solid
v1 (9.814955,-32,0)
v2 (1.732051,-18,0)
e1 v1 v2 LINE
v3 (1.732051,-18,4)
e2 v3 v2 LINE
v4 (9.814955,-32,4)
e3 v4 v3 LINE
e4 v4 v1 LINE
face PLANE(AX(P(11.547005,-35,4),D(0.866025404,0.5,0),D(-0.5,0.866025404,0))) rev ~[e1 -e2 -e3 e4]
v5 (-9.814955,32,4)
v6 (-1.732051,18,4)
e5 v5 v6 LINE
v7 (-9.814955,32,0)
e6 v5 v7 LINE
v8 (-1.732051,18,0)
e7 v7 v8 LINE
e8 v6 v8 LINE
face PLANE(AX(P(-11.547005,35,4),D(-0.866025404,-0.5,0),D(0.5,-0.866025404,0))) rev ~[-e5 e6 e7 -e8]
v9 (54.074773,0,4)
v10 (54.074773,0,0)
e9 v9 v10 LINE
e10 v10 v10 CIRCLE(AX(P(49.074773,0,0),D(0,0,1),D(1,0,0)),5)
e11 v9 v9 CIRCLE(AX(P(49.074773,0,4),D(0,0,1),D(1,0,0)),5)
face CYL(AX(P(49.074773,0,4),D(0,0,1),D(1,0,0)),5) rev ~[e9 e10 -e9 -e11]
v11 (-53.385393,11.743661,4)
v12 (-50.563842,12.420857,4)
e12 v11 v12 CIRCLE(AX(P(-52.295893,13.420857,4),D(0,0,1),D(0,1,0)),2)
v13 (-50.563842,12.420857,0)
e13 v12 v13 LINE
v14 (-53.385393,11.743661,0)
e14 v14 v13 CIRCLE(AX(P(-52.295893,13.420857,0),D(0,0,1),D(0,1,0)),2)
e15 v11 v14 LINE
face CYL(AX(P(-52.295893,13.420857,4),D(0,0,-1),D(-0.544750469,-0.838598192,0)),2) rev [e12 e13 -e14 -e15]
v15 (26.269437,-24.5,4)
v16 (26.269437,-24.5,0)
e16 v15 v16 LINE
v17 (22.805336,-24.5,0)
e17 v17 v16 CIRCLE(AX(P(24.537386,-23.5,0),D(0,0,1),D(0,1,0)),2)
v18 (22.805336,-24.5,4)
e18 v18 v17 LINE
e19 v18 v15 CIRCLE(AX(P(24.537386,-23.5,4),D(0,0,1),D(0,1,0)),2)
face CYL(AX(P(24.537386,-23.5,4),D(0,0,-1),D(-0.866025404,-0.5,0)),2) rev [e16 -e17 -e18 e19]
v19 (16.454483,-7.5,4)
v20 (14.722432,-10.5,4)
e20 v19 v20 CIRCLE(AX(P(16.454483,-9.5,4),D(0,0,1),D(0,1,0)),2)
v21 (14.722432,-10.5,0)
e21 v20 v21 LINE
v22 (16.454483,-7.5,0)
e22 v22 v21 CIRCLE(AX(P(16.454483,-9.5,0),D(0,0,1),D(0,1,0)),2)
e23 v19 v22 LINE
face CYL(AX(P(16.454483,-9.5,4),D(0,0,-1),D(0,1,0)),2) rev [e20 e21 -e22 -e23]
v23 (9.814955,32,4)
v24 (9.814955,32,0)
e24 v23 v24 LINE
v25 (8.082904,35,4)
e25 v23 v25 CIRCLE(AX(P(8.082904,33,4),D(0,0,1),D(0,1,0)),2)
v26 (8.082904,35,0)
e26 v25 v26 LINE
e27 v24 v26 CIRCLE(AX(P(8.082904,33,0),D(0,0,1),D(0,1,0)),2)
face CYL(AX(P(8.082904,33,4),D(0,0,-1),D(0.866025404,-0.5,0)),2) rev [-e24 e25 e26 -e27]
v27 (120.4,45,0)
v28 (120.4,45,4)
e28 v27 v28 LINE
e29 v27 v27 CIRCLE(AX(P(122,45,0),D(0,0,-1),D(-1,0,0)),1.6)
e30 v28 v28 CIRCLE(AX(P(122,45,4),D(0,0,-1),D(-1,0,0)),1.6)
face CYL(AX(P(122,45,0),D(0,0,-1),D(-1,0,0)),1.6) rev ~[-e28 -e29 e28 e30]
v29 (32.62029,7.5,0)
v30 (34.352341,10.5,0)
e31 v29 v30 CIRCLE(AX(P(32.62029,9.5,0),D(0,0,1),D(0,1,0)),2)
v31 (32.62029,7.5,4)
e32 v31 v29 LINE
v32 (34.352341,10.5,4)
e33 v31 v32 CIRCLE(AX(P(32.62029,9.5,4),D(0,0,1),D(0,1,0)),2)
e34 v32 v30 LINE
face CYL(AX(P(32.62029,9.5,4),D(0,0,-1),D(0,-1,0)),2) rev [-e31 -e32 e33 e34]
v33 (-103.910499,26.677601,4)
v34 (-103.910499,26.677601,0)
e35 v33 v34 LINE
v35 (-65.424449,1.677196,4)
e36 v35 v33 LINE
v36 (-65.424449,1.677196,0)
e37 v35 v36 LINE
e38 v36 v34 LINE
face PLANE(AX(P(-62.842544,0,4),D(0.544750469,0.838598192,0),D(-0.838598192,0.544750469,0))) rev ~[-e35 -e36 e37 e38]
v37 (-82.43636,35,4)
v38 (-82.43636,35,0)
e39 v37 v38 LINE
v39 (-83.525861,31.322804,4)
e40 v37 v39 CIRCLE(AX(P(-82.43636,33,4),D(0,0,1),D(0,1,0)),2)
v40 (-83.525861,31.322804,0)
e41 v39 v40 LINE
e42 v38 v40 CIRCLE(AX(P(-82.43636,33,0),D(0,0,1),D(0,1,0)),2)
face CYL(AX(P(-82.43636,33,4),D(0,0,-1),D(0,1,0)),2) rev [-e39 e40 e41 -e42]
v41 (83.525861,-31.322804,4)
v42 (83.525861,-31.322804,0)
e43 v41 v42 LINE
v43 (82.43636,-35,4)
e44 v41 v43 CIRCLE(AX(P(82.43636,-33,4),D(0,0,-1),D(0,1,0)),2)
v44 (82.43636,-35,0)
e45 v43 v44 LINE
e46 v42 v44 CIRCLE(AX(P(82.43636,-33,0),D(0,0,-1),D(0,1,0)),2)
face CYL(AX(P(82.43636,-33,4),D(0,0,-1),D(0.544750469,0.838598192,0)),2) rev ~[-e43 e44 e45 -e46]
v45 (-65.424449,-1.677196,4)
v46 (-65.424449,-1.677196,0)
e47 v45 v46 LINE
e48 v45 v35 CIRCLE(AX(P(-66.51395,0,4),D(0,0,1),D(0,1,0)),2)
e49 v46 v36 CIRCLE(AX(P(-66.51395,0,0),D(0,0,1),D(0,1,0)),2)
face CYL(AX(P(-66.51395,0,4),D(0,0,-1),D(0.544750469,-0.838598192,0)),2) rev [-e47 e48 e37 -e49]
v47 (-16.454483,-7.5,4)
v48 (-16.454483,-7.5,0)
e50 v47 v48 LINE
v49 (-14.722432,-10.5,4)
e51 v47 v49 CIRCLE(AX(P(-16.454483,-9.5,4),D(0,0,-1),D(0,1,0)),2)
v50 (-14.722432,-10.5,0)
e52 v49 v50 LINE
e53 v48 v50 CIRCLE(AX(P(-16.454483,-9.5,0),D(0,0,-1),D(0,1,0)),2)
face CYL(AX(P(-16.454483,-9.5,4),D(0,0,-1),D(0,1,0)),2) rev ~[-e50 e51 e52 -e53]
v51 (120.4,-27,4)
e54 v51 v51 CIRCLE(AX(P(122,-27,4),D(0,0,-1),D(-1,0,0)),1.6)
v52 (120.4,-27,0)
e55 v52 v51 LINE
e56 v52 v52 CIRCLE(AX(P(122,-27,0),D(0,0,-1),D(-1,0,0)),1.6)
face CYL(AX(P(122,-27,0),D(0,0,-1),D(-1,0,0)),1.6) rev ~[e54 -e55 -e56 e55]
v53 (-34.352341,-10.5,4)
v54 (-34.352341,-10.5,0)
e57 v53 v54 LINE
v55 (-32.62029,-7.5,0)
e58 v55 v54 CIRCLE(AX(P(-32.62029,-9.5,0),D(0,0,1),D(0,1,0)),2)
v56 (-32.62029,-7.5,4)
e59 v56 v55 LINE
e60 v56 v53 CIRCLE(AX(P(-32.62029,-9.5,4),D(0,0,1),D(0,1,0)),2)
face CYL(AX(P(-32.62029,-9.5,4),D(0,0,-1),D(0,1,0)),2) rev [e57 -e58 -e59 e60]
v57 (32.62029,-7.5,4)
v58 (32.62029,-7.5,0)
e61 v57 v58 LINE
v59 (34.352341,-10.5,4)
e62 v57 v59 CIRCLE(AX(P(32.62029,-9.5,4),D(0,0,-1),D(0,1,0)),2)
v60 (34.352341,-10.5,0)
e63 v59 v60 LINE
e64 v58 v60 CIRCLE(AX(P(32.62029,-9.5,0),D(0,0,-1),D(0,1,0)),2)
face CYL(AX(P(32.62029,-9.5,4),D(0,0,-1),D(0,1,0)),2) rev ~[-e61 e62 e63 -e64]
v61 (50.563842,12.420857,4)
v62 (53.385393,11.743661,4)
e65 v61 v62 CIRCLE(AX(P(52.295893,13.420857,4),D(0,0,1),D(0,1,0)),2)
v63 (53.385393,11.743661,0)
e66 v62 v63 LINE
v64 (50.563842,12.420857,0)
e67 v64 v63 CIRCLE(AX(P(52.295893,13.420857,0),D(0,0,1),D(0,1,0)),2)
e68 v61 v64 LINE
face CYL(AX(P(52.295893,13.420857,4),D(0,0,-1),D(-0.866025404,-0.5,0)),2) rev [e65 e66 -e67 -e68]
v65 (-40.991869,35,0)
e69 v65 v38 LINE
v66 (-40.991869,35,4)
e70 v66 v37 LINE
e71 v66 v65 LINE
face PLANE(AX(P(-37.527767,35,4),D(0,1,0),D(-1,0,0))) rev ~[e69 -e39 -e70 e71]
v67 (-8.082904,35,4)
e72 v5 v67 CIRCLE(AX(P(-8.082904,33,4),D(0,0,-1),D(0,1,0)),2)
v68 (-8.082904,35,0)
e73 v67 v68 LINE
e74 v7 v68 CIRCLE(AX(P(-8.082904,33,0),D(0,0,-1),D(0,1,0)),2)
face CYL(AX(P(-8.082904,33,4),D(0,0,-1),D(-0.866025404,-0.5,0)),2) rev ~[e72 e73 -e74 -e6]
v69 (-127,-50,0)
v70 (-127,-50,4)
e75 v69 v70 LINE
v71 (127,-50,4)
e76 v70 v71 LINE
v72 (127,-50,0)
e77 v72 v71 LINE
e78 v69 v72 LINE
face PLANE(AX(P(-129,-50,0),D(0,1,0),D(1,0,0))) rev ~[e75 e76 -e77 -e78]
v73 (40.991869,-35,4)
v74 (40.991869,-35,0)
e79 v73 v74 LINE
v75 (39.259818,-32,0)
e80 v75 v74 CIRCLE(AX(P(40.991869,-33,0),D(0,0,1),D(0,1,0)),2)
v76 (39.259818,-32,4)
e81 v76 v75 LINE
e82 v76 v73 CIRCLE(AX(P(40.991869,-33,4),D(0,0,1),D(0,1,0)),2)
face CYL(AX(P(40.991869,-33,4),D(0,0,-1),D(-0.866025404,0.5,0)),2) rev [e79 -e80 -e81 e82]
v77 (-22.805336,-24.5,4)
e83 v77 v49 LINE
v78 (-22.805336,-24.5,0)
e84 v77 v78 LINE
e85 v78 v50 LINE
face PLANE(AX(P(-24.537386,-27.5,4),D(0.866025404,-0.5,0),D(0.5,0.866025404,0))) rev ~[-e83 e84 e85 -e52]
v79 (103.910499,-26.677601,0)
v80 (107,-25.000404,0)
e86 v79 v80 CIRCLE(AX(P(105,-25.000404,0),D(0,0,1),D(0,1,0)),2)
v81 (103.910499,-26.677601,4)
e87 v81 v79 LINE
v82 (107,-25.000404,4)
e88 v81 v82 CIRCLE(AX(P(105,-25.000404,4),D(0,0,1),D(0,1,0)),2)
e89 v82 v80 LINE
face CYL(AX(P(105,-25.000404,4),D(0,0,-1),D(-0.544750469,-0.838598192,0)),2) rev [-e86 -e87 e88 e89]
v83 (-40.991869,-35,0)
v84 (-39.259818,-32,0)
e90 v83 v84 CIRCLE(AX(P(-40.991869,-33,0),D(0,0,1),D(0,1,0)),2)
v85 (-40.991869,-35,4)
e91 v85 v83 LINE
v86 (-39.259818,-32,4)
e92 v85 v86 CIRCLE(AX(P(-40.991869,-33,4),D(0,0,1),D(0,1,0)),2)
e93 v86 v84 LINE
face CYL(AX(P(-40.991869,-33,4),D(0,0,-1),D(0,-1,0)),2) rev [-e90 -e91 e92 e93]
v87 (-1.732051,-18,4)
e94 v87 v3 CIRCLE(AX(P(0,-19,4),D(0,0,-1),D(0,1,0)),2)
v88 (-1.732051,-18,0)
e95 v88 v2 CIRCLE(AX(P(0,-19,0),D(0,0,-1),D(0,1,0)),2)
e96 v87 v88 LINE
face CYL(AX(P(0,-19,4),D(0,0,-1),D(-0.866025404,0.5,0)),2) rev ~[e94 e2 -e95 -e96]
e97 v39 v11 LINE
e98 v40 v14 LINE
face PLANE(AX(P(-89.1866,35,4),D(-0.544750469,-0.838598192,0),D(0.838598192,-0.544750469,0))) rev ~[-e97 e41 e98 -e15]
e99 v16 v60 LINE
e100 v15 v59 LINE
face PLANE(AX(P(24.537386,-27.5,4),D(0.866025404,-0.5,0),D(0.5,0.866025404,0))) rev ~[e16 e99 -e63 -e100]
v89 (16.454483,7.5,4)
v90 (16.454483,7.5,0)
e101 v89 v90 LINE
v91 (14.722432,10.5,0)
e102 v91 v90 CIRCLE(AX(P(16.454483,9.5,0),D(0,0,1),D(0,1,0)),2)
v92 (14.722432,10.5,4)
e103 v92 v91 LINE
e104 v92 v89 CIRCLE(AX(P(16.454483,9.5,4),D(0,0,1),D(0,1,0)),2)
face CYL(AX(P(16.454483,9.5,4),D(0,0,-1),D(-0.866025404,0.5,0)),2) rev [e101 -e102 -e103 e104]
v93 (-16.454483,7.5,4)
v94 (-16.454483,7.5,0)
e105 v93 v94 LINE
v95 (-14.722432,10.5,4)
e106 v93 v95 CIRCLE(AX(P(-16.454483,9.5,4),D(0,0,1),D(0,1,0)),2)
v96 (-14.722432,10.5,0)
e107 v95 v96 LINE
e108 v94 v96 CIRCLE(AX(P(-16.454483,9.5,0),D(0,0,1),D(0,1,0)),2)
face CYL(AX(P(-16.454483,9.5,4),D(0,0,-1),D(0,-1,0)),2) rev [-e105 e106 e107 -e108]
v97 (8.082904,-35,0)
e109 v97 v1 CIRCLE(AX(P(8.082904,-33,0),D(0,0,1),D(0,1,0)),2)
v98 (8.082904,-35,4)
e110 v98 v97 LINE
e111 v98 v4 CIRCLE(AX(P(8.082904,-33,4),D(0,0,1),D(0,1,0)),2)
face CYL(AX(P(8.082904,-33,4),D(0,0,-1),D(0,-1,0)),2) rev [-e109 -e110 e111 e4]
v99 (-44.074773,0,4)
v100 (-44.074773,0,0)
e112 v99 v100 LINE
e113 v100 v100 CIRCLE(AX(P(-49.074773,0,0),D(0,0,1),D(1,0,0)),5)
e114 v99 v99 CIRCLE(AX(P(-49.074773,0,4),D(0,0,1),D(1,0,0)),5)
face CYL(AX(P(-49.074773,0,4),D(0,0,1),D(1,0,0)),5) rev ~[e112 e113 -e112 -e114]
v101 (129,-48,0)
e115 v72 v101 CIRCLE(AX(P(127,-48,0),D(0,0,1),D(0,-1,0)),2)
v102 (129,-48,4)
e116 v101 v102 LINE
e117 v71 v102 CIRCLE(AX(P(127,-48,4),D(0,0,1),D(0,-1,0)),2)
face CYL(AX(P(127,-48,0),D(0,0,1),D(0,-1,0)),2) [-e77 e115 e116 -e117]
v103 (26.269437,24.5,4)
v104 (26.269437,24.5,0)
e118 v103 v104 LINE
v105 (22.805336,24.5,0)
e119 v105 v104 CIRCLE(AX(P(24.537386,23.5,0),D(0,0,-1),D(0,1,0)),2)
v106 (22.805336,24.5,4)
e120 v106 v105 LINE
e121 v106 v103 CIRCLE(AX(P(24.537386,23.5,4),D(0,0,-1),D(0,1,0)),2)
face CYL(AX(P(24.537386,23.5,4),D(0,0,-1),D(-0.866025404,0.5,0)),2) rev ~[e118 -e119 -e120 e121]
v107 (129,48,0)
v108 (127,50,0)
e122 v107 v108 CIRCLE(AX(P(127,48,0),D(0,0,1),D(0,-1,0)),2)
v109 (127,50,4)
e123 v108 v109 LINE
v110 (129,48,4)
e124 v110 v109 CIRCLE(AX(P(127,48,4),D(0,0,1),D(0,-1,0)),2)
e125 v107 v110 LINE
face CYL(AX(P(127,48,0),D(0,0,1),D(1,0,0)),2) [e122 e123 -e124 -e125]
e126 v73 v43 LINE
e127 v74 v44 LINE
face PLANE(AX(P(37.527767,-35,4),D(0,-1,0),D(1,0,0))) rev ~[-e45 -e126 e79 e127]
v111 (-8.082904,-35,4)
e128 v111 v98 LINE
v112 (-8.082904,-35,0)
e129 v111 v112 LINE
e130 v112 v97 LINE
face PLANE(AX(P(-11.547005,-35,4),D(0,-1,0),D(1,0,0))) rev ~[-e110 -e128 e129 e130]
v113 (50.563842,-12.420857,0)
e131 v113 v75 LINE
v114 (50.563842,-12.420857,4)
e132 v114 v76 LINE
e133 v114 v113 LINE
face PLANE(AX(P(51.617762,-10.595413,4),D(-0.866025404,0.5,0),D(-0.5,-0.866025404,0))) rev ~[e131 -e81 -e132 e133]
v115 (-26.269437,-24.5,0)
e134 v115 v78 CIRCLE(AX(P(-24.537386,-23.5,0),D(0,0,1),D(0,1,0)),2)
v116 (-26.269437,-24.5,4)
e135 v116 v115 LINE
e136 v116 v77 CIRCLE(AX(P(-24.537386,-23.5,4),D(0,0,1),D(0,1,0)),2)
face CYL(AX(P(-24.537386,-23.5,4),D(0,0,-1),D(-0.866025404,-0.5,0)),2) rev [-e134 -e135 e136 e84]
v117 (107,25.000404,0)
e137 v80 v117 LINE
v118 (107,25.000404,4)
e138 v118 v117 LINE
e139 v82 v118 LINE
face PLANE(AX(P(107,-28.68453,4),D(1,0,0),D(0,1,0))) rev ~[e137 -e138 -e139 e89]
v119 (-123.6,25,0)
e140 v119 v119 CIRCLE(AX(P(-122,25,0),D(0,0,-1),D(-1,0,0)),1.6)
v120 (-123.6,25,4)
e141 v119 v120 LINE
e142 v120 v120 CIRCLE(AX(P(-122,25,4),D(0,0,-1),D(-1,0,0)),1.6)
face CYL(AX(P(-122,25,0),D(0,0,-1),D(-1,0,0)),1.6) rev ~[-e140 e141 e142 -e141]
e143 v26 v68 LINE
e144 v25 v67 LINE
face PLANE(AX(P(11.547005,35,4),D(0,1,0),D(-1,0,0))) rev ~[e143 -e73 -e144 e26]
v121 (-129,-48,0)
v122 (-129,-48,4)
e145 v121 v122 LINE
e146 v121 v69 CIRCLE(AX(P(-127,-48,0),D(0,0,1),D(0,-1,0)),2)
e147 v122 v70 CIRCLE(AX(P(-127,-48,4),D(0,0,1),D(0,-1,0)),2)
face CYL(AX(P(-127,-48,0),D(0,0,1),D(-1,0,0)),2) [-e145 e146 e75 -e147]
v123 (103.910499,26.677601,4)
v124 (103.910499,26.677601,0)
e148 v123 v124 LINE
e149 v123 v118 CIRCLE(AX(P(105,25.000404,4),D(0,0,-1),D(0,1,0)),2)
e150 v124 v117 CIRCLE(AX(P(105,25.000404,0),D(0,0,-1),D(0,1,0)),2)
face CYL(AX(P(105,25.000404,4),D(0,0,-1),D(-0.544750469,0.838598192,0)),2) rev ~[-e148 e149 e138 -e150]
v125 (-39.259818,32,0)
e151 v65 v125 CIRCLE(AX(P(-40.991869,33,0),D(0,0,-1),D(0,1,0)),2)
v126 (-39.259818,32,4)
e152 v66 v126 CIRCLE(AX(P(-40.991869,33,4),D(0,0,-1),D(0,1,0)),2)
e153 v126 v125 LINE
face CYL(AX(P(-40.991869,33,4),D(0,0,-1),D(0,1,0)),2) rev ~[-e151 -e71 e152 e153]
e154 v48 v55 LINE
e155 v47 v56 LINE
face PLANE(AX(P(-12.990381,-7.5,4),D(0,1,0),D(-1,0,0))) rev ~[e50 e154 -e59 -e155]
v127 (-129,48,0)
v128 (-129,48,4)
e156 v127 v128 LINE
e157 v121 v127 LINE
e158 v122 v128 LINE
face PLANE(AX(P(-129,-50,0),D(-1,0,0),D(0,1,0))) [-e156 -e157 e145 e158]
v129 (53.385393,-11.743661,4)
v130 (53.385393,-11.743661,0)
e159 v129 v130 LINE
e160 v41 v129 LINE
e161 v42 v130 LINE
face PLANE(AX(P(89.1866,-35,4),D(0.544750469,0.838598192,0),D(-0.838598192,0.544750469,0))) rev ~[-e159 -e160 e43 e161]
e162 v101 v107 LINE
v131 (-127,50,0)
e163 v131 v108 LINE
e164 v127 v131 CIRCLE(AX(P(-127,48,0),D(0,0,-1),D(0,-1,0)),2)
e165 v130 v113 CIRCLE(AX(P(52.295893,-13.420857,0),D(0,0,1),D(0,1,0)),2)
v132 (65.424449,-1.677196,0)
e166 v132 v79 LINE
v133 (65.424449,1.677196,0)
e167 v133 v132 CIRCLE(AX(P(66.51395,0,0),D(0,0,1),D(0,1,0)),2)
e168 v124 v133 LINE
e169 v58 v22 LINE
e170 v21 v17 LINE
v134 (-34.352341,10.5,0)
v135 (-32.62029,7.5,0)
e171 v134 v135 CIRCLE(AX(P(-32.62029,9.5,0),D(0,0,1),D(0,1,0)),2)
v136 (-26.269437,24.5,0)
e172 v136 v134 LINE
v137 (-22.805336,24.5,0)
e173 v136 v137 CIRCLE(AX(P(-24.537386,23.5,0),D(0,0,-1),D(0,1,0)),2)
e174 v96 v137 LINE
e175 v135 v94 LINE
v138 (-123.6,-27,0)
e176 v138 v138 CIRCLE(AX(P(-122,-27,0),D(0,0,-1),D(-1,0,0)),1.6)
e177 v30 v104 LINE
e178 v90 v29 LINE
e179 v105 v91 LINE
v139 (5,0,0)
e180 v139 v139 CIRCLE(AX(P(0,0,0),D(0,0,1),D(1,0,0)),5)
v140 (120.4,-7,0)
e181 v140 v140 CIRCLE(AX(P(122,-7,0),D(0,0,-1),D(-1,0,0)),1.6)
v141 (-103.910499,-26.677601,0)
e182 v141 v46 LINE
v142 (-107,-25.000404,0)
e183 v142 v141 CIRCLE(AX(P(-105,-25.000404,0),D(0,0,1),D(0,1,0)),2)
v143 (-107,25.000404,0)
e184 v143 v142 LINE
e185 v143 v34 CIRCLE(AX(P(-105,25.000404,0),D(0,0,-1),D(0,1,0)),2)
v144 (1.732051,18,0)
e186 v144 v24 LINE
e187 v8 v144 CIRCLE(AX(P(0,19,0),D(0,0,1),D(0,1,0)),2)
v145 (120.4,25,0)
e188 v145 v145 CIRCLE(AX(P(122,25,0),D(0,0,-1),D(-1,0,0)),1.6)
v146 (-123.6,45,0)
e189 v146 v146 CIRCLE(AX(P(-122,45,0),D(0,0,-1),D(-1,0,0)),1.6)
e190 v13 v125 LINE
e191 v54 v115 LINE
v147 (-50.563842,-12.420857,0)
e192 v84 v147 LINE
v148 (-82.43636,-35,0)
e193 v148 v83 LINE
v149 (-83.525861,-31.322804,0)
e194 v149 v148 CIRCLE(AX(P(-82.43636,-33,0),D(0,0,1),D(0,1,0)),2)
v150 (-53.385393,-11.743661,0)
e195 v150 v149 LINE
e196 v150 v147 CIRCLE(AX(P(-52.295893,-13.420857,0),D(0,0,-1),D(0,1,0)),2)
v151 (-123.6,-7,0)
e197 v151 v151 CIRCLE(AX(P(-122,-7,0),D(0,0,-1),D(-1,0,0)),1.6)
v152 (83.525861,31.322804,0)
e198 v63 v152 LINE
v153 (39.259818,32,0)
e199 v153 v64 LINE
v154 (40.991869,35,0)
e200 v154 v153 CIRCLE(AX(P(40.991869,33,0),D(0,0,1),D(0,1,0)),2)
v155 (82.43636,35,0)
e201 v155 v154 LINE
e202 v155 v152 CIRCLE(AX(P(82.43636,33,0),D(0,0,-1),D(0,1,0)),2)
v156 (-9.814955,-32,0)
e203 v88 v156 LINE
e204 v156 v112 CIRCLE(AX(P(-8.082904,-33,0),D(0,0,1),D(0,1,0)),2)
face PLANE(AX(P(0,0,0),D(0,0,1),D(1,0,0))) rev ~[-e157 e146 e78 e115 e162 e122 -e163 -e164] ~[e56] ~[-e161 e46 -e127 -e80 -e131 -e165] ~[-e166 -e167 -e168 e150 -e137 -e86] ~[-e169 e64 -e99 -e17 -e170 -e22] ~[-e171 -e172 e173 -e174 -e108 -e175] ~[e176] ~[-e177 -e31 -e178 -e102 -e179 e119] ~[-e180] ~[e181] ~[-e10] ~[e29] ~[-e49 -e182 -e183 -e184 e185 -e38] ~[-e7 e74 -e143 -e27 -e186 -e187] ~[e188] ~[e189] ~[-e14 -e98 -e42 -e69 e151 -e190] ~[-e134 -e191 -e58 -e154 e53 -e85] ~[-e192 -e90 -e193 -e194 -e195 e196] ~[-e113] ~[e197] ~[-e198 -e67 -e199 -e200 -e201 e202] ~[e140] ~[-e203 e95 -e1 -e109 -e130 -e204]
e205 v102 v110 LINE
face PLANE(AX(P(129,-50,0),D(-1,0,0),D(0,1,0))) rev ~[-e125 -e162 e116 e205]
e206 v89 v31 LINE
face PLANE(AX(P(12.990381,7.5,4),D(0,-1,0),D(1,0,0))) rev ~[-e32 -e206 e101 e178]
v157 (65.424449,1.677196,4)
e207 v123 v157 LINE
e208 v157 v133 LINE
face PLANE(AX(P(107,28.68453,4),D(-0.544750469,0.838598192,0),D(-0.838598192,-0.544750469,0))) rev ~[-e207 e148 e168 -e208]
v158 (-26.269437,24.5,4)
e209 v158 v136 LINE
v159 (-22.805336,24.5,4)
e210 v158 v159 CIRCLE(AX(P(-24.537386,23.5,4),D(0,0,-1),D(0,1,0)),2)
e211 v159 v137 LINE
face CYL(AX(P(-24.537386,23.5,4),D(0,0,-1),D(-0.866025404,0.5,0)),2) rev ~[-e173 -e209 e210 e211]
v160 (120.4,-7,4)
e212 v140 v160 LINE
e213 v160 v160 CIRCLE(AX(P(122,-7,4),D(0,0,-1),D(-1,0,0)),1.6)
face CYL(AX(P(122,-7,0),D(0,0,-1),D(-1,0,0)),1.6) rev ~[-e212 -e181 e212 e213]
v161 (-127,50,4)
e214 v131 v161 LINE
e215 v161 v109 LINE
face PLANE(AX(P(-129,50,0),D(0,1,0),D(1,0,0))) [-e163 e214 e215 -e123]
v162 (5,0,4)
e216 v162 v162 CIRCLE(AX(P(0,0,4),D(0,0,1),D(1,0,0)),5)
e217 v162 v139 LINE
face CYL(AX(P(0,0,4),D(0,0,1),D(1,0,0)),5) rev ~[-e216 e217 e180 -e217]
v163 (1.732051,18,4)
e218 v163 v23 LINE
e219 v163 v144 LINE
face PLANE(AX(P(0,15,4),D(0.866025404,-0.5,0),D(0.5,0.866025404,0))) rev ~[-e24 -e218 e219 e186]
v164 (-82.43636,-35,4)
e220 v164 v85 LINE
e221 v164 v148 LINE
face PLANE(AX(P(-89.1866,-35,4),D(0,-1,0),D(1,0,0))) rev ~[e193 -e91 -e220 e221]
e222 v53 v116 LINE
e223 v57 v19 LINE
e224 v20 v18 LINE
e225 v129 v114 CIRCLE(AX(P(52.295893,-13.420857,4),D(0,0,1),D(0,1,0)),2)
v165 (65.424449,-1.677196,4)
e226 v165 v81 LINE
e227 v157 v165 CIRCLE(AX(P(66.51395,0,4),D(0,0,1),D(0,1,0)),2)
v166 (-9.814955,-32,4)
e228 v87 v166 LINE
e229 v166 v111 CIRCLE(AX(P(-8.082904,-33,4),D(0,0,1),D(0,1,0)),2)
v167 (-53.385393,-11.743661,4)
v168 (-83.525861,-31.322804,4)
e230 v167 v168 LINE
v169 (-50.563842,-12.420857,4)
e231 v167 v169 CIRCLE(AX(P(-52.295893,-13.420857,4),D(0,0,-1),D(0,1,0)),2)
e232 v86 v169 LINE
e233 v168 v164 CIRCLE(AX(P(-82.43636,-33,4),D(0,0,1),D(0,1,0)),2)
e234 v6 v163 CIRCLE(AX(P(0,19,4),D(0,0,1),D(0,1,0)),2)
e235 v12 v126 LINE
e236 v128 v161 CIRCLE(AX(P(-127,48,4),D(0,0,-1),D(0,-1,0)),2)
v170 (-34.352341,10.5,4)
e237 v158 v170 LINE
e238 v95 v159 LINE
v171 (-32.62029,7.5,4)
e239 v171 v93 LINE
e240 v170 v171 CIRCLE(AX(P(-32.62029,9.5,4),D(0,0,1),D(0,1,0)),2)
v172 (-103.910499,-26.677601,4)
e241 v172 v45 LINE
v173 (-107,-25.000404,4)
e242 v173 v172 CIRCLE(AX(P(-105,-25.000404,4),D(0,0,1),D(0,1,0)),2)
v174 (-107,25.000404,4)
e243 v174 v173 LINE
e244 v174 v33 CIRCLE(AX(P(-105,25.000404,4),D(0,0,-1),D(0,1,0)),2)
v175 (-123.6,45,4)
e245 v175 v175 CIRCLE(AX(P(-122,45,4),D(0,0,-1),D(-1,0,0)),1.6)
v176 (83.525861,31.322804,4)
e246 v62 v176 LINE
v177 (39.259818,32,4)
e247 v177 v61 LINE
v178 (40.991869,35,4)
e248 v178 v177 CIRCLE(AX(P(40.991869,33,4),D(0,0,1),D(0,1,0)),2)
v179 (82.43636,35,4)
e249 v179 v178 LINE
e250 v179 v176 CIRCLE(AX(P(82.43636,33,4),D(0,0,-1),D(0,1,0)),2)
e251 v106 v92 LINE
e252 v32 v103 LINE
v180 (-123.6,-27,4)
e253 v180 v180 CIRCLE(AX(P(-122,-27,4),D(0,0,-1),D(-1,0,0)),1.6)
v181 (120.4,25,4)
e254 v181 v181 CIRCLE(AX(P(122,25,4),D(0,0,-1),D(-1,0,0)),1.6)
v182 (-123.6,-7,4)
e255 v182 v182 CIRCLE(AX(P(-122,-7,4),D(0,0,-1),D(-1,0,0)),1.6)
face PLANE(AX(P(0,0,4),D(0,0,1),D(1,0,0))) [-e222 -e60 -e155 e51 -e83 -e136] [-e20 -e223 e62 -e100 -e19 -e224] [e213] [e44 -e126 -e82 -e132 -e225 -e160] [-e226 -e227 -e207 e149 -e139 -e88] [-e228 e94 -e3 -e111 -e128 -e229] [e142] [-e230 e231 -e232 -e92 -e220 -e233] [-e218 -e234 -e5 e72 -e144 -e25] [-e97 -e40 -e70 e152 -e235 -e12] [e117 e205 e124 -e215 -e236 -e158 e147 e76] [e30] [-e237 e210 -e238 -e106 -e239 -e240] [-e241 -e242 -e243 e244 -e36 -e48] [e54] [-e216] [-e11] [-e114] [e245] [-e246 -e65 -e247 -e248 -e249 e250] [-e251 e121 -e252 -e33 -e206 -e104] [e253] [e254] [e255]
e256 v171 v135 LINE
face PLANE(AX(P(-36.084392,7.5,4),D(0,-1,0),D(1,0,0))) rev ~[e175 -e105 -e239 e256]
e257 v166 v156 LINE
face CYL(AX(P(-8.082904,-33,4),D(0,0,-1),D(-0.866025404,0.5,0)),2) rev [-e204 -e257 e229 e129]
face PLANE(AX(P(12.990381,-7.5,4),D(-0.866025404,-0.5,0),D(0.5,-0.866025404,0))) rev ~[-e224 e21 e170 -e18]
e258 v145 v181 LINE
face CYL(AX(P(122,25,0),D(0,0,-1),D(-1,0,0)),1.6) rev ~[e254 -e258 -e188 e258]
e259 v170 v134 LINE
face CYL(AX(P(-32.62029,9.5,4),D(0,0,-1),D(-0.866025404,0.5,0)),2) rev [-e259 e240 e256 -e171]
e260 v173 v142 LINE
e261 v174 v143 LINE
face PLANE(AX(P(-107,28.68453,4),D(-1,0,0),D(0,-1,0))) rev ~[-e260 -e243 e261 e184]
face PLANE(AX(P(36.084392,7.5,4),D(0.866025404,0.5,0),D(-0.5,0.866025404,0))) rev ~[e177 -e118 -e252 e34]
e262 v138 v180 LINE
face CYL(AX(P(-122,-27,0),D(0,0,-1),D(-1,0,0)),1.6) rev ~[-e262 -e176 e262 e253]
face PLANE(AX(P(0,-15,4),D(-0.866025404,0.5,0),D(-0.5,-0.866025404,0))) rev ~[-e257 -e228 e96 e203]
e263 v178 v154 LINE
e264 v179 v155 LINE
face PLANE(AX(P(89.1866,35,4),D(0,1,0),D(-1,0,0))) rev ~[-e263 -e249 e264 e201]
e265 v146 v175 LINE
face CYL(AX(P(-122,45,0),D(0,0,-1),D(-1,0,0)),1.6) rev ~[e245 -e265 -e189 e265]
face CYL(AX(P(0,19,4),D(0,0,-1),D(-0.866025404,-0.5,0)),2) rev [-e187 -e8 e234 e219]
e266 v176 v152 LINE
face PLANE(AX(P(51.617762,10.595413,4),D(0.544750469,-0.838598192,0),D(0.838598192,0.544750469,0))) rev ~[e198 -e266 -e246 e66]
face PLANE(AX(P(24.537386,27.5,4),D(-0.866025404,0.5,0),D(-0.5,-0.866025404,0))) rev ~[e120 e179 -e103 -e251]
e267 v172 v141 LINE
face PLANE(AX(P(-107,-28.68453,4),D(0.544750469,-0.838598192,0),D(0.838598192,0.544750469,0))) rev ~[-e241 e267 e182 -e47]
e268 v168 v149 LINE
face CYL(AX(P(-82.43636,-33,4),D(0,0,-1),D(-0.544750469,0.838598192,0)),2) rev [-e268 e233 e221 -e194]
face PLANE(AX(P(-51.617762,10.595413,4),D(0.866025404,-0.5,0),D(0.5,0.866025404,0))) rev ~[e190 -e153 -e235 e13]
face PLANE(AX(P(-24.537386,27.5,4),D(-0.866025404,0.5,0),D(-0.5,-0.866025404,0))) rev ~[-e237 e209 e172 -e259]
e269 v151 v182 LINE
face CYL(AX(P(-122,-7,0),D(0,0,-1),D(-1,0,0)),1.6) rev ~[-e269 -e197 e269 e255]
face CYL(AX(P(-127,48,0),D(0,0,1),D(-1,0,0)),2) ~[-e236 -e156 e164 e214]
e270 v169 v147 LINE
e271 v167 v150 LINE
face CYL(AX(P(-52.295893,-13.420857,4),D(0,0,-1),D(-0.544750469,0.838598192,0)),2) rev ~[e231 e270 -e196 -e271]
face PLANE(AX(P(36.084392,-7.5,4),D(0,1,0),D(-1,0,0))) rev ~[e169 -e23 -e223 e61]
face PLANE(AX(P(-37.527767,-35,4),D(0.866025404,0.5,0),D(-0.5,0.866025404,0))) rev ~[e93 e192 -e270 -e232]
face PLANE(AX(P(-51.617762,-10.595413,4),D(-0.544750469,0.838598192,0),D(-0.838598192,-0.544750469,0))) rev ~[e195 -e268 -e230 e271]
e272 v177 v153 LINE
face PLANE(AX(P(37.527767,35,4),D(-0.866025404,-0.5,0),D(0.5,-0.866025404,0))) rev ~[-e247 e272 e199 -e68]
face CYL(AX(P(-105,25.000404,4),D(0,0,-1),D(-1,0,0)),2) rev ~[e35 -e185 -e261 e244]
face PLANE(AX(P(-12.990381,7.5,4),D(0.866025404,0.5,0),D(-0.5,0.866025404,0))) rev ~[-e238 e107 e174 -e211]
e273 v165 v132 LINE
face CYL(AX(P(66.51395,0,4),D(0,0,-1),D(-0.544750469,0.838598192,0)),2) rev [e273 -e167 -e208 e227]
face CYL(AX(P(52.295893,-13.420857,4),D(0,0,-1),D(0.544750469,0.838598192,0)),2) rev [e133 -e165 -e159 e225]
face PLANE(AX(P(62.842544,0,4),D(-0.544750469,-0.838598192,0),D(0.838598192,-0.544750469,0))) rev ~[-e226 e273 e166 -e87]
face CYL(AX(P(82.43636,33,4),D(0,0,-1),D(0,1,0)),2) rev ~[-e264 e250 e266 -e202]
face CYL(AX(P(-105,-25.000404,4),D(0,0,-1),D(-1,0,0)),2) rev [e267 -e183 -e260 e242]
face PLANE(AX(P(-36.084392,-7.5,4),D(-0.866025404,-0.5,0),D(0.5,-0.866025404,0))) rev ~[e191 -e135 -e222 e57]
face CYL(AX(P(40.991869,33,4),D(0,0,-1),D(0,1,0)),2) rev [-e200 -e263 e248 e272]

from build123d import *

# Parameters (mm, degrees)
SKETCH_1_W          = 258
SKETCH_1_H          = 100
EXTRUDE_1_DEPTH     = 4
FILLET_1_R          = 2
SKETCH_2_R          = 1.6
CUT_EXTRUDE_1_DEPTH = 139.408814748
SKETCH_3_R          = 5
CUT_EXTRUDE_2_DEPTH = 139.408814748
FILLET_2_R          = 2
SKETCH_4_R          = 5
CUT_EXTRUDE_3_DEPTH = 139.408814748


with BuildPart() as part:
    # 草图1 → 凸台-拉伸1 (new body)
    with BuildSketch(Plane.XY):
        Rectangle(SKETCH_1_W, SKETCH_1_H)
    extrude(amount=EXTRUDE_1_DEPTH)

    # 圆角1
    fillet_1_edges = [part.edges().sort_by_distance(p)[0] for p in [
        (129, -50, 2),
        (-129, -50, 2),
        (-129, 50, 2),
        (129, 50, 2),
    ]]
    fillet(fillet_1_edges, radius=FILLET_1_R)

    # 草图2 → 切除-拉伸1 (cut, through all)
    with BuildSketch(Plane(origin=(0, 0, 0), x_dir=(-1, 0, 0), z_dir=(0, 0, -1))):
        with Locations((-122, -27)):
            Circle(SKETCH_2_R)
        with Locations((-122, -7)):
            Circle(SKETCH_2_R)
        with Locations((-122, 25)):
            Circle(SKETCH_2_R)
        with Locations((-122, 45)):
            Circle(SKETCH_2_R)
        with Locations((122, -27)):
            Circle(SKETCH_2_R)
        with Locations((122, -7)):
            Circle(SKETCH_2_R)
        with Locations((122, 25)):
            Circle(SKETCH_2_R)
        with Locations((122, 45)):
            Circle(SKETCH_2_R)
    extrude(amount=-CUT_EXTRUDE_1_DEPTH, mode=Mode.SUBTRACT)

    # 草图3 → 切除-拉伸2 (cut, through all)
    with BuildSketch(Plane.XY.offset(4)):
        Polygon((-107, 28.684529573), (-107, -28.684529573), (-62.842544422, 0), align=None)
        Polygon((-24.537386441, 27.5), (-36.084391824, 7.5), (-12.990381057, 7.5), align=None)
        Polygon((-37.527767497, 35), (-89.186600144, 35), (-51.617762103, 10.595413465), align=None)
        Polygon((-51.617762103, -10.595413465), (-89.186600144, -35), (-37.527767497, -35), align=None)
        Polygon((-12.990381057, -7.5), (-36.084391824, -7.5), (-24.537386441, -27.5), align=None)
        Polygon((0, -15), (-11.547005384, -35), (11.547005384, -35), align=None)
        Polygon((-11.547005384, 35), (0, 15), (11.547005384, 35), align=None)
        Polygon((36.084391824, -7.5), (12.990381057, -7.5), (24.537386441, -27.5), align=None)
        Polygon((89.186600144, 35), (37.527767497, 35), (51.617762103, 10.595413465), align=None)
        Polygon((107, 28.684529573), (62.842544422, 0), (107, -28.684529573), align=None)
        Polygon((89.186600144, -35), (51.617762103, -10.595413465), (37.527767497, -35), align=None)
        Polygon((24.537386441, 27.5), (12.990381057, 7.5), (36.084391824, 7.5), align=None)
        with Locations((-49.074772881, 0)):
            Circle(SKETCH_3_R)
        with Locations((49.074772881, 0)):
            Circle(SKETCH_3_R)
    extrude(amount=-CUT_EXTRUDE_2_DEPTH, mode=Mode.SUBTRACT)

    # 圆角2
    fillet_2_edges = [part.edges().sort_by_distance(p)[0] for p in [
        (-24.537386441, 27.5, 2),
        (-12.990381057, 7.5, 2),
        (-36.084391824, 7.5, 2),
        (-37.527767497, 35, 2),
        (-51.617762103, 10.595413465, 2),
        (-89.186600144, 35, 2),
        (-89.186600144, -35, 2),
        (-51.617762103, -10.595413465, 2),
        (-37.527767497, -35, 2),
        (-12.990381057, -7.5, 2),
        (-24.537386441, -27.5, 2),
        (-36.084391824, -7.5, 2),
        (-11.547005384, -35, 2),
        (0, -15, 2),
        (11.547005384, -35, 2),
        (11.547005384, 35, 2),
        (0, 15, 2),
        (-11.547005384, 35, 2),
        (24.537386441, -27.5, 2),
        (12.990381057, -7.5, 2),
        (36.084391824, -7.5, 2),
        (37.527767497, 35, 2),
        (89.186600144, 35, 2),
        (51.617762103, 10.595413465, 2),
        (36.084391824, 7.5, 2),
        (12.990381057, 7.5, 2),
        (24.537386441, 27.5, 2),
        (107, -28.684529573, 2),
        (62.842544422, 0, 2),
        (107, 28.684529573, 2),
        (37.527767497, -35, 2),
        (51.617762103, -10.595413465, 2),
        (89.186600144, -35, 2),
        (-62.842544422, 0, 2),
        (-107, -28.684529573, 2),
        (-107, 28.684529573, 2),
    ]]
    fillet(fillet_2_edges, radius=FILLET_2_R)

    # 草图4 → 切除-拉伸3 (cut, through all)
    with BuildSketch(Plane.XY.offset(4)):
        Circle(SKETCH_4_R)
    extrude(amount=-CUT_EXTRUDE_3_DEPTH, mode=Mode.SUBTRACT)


solid = part.part
